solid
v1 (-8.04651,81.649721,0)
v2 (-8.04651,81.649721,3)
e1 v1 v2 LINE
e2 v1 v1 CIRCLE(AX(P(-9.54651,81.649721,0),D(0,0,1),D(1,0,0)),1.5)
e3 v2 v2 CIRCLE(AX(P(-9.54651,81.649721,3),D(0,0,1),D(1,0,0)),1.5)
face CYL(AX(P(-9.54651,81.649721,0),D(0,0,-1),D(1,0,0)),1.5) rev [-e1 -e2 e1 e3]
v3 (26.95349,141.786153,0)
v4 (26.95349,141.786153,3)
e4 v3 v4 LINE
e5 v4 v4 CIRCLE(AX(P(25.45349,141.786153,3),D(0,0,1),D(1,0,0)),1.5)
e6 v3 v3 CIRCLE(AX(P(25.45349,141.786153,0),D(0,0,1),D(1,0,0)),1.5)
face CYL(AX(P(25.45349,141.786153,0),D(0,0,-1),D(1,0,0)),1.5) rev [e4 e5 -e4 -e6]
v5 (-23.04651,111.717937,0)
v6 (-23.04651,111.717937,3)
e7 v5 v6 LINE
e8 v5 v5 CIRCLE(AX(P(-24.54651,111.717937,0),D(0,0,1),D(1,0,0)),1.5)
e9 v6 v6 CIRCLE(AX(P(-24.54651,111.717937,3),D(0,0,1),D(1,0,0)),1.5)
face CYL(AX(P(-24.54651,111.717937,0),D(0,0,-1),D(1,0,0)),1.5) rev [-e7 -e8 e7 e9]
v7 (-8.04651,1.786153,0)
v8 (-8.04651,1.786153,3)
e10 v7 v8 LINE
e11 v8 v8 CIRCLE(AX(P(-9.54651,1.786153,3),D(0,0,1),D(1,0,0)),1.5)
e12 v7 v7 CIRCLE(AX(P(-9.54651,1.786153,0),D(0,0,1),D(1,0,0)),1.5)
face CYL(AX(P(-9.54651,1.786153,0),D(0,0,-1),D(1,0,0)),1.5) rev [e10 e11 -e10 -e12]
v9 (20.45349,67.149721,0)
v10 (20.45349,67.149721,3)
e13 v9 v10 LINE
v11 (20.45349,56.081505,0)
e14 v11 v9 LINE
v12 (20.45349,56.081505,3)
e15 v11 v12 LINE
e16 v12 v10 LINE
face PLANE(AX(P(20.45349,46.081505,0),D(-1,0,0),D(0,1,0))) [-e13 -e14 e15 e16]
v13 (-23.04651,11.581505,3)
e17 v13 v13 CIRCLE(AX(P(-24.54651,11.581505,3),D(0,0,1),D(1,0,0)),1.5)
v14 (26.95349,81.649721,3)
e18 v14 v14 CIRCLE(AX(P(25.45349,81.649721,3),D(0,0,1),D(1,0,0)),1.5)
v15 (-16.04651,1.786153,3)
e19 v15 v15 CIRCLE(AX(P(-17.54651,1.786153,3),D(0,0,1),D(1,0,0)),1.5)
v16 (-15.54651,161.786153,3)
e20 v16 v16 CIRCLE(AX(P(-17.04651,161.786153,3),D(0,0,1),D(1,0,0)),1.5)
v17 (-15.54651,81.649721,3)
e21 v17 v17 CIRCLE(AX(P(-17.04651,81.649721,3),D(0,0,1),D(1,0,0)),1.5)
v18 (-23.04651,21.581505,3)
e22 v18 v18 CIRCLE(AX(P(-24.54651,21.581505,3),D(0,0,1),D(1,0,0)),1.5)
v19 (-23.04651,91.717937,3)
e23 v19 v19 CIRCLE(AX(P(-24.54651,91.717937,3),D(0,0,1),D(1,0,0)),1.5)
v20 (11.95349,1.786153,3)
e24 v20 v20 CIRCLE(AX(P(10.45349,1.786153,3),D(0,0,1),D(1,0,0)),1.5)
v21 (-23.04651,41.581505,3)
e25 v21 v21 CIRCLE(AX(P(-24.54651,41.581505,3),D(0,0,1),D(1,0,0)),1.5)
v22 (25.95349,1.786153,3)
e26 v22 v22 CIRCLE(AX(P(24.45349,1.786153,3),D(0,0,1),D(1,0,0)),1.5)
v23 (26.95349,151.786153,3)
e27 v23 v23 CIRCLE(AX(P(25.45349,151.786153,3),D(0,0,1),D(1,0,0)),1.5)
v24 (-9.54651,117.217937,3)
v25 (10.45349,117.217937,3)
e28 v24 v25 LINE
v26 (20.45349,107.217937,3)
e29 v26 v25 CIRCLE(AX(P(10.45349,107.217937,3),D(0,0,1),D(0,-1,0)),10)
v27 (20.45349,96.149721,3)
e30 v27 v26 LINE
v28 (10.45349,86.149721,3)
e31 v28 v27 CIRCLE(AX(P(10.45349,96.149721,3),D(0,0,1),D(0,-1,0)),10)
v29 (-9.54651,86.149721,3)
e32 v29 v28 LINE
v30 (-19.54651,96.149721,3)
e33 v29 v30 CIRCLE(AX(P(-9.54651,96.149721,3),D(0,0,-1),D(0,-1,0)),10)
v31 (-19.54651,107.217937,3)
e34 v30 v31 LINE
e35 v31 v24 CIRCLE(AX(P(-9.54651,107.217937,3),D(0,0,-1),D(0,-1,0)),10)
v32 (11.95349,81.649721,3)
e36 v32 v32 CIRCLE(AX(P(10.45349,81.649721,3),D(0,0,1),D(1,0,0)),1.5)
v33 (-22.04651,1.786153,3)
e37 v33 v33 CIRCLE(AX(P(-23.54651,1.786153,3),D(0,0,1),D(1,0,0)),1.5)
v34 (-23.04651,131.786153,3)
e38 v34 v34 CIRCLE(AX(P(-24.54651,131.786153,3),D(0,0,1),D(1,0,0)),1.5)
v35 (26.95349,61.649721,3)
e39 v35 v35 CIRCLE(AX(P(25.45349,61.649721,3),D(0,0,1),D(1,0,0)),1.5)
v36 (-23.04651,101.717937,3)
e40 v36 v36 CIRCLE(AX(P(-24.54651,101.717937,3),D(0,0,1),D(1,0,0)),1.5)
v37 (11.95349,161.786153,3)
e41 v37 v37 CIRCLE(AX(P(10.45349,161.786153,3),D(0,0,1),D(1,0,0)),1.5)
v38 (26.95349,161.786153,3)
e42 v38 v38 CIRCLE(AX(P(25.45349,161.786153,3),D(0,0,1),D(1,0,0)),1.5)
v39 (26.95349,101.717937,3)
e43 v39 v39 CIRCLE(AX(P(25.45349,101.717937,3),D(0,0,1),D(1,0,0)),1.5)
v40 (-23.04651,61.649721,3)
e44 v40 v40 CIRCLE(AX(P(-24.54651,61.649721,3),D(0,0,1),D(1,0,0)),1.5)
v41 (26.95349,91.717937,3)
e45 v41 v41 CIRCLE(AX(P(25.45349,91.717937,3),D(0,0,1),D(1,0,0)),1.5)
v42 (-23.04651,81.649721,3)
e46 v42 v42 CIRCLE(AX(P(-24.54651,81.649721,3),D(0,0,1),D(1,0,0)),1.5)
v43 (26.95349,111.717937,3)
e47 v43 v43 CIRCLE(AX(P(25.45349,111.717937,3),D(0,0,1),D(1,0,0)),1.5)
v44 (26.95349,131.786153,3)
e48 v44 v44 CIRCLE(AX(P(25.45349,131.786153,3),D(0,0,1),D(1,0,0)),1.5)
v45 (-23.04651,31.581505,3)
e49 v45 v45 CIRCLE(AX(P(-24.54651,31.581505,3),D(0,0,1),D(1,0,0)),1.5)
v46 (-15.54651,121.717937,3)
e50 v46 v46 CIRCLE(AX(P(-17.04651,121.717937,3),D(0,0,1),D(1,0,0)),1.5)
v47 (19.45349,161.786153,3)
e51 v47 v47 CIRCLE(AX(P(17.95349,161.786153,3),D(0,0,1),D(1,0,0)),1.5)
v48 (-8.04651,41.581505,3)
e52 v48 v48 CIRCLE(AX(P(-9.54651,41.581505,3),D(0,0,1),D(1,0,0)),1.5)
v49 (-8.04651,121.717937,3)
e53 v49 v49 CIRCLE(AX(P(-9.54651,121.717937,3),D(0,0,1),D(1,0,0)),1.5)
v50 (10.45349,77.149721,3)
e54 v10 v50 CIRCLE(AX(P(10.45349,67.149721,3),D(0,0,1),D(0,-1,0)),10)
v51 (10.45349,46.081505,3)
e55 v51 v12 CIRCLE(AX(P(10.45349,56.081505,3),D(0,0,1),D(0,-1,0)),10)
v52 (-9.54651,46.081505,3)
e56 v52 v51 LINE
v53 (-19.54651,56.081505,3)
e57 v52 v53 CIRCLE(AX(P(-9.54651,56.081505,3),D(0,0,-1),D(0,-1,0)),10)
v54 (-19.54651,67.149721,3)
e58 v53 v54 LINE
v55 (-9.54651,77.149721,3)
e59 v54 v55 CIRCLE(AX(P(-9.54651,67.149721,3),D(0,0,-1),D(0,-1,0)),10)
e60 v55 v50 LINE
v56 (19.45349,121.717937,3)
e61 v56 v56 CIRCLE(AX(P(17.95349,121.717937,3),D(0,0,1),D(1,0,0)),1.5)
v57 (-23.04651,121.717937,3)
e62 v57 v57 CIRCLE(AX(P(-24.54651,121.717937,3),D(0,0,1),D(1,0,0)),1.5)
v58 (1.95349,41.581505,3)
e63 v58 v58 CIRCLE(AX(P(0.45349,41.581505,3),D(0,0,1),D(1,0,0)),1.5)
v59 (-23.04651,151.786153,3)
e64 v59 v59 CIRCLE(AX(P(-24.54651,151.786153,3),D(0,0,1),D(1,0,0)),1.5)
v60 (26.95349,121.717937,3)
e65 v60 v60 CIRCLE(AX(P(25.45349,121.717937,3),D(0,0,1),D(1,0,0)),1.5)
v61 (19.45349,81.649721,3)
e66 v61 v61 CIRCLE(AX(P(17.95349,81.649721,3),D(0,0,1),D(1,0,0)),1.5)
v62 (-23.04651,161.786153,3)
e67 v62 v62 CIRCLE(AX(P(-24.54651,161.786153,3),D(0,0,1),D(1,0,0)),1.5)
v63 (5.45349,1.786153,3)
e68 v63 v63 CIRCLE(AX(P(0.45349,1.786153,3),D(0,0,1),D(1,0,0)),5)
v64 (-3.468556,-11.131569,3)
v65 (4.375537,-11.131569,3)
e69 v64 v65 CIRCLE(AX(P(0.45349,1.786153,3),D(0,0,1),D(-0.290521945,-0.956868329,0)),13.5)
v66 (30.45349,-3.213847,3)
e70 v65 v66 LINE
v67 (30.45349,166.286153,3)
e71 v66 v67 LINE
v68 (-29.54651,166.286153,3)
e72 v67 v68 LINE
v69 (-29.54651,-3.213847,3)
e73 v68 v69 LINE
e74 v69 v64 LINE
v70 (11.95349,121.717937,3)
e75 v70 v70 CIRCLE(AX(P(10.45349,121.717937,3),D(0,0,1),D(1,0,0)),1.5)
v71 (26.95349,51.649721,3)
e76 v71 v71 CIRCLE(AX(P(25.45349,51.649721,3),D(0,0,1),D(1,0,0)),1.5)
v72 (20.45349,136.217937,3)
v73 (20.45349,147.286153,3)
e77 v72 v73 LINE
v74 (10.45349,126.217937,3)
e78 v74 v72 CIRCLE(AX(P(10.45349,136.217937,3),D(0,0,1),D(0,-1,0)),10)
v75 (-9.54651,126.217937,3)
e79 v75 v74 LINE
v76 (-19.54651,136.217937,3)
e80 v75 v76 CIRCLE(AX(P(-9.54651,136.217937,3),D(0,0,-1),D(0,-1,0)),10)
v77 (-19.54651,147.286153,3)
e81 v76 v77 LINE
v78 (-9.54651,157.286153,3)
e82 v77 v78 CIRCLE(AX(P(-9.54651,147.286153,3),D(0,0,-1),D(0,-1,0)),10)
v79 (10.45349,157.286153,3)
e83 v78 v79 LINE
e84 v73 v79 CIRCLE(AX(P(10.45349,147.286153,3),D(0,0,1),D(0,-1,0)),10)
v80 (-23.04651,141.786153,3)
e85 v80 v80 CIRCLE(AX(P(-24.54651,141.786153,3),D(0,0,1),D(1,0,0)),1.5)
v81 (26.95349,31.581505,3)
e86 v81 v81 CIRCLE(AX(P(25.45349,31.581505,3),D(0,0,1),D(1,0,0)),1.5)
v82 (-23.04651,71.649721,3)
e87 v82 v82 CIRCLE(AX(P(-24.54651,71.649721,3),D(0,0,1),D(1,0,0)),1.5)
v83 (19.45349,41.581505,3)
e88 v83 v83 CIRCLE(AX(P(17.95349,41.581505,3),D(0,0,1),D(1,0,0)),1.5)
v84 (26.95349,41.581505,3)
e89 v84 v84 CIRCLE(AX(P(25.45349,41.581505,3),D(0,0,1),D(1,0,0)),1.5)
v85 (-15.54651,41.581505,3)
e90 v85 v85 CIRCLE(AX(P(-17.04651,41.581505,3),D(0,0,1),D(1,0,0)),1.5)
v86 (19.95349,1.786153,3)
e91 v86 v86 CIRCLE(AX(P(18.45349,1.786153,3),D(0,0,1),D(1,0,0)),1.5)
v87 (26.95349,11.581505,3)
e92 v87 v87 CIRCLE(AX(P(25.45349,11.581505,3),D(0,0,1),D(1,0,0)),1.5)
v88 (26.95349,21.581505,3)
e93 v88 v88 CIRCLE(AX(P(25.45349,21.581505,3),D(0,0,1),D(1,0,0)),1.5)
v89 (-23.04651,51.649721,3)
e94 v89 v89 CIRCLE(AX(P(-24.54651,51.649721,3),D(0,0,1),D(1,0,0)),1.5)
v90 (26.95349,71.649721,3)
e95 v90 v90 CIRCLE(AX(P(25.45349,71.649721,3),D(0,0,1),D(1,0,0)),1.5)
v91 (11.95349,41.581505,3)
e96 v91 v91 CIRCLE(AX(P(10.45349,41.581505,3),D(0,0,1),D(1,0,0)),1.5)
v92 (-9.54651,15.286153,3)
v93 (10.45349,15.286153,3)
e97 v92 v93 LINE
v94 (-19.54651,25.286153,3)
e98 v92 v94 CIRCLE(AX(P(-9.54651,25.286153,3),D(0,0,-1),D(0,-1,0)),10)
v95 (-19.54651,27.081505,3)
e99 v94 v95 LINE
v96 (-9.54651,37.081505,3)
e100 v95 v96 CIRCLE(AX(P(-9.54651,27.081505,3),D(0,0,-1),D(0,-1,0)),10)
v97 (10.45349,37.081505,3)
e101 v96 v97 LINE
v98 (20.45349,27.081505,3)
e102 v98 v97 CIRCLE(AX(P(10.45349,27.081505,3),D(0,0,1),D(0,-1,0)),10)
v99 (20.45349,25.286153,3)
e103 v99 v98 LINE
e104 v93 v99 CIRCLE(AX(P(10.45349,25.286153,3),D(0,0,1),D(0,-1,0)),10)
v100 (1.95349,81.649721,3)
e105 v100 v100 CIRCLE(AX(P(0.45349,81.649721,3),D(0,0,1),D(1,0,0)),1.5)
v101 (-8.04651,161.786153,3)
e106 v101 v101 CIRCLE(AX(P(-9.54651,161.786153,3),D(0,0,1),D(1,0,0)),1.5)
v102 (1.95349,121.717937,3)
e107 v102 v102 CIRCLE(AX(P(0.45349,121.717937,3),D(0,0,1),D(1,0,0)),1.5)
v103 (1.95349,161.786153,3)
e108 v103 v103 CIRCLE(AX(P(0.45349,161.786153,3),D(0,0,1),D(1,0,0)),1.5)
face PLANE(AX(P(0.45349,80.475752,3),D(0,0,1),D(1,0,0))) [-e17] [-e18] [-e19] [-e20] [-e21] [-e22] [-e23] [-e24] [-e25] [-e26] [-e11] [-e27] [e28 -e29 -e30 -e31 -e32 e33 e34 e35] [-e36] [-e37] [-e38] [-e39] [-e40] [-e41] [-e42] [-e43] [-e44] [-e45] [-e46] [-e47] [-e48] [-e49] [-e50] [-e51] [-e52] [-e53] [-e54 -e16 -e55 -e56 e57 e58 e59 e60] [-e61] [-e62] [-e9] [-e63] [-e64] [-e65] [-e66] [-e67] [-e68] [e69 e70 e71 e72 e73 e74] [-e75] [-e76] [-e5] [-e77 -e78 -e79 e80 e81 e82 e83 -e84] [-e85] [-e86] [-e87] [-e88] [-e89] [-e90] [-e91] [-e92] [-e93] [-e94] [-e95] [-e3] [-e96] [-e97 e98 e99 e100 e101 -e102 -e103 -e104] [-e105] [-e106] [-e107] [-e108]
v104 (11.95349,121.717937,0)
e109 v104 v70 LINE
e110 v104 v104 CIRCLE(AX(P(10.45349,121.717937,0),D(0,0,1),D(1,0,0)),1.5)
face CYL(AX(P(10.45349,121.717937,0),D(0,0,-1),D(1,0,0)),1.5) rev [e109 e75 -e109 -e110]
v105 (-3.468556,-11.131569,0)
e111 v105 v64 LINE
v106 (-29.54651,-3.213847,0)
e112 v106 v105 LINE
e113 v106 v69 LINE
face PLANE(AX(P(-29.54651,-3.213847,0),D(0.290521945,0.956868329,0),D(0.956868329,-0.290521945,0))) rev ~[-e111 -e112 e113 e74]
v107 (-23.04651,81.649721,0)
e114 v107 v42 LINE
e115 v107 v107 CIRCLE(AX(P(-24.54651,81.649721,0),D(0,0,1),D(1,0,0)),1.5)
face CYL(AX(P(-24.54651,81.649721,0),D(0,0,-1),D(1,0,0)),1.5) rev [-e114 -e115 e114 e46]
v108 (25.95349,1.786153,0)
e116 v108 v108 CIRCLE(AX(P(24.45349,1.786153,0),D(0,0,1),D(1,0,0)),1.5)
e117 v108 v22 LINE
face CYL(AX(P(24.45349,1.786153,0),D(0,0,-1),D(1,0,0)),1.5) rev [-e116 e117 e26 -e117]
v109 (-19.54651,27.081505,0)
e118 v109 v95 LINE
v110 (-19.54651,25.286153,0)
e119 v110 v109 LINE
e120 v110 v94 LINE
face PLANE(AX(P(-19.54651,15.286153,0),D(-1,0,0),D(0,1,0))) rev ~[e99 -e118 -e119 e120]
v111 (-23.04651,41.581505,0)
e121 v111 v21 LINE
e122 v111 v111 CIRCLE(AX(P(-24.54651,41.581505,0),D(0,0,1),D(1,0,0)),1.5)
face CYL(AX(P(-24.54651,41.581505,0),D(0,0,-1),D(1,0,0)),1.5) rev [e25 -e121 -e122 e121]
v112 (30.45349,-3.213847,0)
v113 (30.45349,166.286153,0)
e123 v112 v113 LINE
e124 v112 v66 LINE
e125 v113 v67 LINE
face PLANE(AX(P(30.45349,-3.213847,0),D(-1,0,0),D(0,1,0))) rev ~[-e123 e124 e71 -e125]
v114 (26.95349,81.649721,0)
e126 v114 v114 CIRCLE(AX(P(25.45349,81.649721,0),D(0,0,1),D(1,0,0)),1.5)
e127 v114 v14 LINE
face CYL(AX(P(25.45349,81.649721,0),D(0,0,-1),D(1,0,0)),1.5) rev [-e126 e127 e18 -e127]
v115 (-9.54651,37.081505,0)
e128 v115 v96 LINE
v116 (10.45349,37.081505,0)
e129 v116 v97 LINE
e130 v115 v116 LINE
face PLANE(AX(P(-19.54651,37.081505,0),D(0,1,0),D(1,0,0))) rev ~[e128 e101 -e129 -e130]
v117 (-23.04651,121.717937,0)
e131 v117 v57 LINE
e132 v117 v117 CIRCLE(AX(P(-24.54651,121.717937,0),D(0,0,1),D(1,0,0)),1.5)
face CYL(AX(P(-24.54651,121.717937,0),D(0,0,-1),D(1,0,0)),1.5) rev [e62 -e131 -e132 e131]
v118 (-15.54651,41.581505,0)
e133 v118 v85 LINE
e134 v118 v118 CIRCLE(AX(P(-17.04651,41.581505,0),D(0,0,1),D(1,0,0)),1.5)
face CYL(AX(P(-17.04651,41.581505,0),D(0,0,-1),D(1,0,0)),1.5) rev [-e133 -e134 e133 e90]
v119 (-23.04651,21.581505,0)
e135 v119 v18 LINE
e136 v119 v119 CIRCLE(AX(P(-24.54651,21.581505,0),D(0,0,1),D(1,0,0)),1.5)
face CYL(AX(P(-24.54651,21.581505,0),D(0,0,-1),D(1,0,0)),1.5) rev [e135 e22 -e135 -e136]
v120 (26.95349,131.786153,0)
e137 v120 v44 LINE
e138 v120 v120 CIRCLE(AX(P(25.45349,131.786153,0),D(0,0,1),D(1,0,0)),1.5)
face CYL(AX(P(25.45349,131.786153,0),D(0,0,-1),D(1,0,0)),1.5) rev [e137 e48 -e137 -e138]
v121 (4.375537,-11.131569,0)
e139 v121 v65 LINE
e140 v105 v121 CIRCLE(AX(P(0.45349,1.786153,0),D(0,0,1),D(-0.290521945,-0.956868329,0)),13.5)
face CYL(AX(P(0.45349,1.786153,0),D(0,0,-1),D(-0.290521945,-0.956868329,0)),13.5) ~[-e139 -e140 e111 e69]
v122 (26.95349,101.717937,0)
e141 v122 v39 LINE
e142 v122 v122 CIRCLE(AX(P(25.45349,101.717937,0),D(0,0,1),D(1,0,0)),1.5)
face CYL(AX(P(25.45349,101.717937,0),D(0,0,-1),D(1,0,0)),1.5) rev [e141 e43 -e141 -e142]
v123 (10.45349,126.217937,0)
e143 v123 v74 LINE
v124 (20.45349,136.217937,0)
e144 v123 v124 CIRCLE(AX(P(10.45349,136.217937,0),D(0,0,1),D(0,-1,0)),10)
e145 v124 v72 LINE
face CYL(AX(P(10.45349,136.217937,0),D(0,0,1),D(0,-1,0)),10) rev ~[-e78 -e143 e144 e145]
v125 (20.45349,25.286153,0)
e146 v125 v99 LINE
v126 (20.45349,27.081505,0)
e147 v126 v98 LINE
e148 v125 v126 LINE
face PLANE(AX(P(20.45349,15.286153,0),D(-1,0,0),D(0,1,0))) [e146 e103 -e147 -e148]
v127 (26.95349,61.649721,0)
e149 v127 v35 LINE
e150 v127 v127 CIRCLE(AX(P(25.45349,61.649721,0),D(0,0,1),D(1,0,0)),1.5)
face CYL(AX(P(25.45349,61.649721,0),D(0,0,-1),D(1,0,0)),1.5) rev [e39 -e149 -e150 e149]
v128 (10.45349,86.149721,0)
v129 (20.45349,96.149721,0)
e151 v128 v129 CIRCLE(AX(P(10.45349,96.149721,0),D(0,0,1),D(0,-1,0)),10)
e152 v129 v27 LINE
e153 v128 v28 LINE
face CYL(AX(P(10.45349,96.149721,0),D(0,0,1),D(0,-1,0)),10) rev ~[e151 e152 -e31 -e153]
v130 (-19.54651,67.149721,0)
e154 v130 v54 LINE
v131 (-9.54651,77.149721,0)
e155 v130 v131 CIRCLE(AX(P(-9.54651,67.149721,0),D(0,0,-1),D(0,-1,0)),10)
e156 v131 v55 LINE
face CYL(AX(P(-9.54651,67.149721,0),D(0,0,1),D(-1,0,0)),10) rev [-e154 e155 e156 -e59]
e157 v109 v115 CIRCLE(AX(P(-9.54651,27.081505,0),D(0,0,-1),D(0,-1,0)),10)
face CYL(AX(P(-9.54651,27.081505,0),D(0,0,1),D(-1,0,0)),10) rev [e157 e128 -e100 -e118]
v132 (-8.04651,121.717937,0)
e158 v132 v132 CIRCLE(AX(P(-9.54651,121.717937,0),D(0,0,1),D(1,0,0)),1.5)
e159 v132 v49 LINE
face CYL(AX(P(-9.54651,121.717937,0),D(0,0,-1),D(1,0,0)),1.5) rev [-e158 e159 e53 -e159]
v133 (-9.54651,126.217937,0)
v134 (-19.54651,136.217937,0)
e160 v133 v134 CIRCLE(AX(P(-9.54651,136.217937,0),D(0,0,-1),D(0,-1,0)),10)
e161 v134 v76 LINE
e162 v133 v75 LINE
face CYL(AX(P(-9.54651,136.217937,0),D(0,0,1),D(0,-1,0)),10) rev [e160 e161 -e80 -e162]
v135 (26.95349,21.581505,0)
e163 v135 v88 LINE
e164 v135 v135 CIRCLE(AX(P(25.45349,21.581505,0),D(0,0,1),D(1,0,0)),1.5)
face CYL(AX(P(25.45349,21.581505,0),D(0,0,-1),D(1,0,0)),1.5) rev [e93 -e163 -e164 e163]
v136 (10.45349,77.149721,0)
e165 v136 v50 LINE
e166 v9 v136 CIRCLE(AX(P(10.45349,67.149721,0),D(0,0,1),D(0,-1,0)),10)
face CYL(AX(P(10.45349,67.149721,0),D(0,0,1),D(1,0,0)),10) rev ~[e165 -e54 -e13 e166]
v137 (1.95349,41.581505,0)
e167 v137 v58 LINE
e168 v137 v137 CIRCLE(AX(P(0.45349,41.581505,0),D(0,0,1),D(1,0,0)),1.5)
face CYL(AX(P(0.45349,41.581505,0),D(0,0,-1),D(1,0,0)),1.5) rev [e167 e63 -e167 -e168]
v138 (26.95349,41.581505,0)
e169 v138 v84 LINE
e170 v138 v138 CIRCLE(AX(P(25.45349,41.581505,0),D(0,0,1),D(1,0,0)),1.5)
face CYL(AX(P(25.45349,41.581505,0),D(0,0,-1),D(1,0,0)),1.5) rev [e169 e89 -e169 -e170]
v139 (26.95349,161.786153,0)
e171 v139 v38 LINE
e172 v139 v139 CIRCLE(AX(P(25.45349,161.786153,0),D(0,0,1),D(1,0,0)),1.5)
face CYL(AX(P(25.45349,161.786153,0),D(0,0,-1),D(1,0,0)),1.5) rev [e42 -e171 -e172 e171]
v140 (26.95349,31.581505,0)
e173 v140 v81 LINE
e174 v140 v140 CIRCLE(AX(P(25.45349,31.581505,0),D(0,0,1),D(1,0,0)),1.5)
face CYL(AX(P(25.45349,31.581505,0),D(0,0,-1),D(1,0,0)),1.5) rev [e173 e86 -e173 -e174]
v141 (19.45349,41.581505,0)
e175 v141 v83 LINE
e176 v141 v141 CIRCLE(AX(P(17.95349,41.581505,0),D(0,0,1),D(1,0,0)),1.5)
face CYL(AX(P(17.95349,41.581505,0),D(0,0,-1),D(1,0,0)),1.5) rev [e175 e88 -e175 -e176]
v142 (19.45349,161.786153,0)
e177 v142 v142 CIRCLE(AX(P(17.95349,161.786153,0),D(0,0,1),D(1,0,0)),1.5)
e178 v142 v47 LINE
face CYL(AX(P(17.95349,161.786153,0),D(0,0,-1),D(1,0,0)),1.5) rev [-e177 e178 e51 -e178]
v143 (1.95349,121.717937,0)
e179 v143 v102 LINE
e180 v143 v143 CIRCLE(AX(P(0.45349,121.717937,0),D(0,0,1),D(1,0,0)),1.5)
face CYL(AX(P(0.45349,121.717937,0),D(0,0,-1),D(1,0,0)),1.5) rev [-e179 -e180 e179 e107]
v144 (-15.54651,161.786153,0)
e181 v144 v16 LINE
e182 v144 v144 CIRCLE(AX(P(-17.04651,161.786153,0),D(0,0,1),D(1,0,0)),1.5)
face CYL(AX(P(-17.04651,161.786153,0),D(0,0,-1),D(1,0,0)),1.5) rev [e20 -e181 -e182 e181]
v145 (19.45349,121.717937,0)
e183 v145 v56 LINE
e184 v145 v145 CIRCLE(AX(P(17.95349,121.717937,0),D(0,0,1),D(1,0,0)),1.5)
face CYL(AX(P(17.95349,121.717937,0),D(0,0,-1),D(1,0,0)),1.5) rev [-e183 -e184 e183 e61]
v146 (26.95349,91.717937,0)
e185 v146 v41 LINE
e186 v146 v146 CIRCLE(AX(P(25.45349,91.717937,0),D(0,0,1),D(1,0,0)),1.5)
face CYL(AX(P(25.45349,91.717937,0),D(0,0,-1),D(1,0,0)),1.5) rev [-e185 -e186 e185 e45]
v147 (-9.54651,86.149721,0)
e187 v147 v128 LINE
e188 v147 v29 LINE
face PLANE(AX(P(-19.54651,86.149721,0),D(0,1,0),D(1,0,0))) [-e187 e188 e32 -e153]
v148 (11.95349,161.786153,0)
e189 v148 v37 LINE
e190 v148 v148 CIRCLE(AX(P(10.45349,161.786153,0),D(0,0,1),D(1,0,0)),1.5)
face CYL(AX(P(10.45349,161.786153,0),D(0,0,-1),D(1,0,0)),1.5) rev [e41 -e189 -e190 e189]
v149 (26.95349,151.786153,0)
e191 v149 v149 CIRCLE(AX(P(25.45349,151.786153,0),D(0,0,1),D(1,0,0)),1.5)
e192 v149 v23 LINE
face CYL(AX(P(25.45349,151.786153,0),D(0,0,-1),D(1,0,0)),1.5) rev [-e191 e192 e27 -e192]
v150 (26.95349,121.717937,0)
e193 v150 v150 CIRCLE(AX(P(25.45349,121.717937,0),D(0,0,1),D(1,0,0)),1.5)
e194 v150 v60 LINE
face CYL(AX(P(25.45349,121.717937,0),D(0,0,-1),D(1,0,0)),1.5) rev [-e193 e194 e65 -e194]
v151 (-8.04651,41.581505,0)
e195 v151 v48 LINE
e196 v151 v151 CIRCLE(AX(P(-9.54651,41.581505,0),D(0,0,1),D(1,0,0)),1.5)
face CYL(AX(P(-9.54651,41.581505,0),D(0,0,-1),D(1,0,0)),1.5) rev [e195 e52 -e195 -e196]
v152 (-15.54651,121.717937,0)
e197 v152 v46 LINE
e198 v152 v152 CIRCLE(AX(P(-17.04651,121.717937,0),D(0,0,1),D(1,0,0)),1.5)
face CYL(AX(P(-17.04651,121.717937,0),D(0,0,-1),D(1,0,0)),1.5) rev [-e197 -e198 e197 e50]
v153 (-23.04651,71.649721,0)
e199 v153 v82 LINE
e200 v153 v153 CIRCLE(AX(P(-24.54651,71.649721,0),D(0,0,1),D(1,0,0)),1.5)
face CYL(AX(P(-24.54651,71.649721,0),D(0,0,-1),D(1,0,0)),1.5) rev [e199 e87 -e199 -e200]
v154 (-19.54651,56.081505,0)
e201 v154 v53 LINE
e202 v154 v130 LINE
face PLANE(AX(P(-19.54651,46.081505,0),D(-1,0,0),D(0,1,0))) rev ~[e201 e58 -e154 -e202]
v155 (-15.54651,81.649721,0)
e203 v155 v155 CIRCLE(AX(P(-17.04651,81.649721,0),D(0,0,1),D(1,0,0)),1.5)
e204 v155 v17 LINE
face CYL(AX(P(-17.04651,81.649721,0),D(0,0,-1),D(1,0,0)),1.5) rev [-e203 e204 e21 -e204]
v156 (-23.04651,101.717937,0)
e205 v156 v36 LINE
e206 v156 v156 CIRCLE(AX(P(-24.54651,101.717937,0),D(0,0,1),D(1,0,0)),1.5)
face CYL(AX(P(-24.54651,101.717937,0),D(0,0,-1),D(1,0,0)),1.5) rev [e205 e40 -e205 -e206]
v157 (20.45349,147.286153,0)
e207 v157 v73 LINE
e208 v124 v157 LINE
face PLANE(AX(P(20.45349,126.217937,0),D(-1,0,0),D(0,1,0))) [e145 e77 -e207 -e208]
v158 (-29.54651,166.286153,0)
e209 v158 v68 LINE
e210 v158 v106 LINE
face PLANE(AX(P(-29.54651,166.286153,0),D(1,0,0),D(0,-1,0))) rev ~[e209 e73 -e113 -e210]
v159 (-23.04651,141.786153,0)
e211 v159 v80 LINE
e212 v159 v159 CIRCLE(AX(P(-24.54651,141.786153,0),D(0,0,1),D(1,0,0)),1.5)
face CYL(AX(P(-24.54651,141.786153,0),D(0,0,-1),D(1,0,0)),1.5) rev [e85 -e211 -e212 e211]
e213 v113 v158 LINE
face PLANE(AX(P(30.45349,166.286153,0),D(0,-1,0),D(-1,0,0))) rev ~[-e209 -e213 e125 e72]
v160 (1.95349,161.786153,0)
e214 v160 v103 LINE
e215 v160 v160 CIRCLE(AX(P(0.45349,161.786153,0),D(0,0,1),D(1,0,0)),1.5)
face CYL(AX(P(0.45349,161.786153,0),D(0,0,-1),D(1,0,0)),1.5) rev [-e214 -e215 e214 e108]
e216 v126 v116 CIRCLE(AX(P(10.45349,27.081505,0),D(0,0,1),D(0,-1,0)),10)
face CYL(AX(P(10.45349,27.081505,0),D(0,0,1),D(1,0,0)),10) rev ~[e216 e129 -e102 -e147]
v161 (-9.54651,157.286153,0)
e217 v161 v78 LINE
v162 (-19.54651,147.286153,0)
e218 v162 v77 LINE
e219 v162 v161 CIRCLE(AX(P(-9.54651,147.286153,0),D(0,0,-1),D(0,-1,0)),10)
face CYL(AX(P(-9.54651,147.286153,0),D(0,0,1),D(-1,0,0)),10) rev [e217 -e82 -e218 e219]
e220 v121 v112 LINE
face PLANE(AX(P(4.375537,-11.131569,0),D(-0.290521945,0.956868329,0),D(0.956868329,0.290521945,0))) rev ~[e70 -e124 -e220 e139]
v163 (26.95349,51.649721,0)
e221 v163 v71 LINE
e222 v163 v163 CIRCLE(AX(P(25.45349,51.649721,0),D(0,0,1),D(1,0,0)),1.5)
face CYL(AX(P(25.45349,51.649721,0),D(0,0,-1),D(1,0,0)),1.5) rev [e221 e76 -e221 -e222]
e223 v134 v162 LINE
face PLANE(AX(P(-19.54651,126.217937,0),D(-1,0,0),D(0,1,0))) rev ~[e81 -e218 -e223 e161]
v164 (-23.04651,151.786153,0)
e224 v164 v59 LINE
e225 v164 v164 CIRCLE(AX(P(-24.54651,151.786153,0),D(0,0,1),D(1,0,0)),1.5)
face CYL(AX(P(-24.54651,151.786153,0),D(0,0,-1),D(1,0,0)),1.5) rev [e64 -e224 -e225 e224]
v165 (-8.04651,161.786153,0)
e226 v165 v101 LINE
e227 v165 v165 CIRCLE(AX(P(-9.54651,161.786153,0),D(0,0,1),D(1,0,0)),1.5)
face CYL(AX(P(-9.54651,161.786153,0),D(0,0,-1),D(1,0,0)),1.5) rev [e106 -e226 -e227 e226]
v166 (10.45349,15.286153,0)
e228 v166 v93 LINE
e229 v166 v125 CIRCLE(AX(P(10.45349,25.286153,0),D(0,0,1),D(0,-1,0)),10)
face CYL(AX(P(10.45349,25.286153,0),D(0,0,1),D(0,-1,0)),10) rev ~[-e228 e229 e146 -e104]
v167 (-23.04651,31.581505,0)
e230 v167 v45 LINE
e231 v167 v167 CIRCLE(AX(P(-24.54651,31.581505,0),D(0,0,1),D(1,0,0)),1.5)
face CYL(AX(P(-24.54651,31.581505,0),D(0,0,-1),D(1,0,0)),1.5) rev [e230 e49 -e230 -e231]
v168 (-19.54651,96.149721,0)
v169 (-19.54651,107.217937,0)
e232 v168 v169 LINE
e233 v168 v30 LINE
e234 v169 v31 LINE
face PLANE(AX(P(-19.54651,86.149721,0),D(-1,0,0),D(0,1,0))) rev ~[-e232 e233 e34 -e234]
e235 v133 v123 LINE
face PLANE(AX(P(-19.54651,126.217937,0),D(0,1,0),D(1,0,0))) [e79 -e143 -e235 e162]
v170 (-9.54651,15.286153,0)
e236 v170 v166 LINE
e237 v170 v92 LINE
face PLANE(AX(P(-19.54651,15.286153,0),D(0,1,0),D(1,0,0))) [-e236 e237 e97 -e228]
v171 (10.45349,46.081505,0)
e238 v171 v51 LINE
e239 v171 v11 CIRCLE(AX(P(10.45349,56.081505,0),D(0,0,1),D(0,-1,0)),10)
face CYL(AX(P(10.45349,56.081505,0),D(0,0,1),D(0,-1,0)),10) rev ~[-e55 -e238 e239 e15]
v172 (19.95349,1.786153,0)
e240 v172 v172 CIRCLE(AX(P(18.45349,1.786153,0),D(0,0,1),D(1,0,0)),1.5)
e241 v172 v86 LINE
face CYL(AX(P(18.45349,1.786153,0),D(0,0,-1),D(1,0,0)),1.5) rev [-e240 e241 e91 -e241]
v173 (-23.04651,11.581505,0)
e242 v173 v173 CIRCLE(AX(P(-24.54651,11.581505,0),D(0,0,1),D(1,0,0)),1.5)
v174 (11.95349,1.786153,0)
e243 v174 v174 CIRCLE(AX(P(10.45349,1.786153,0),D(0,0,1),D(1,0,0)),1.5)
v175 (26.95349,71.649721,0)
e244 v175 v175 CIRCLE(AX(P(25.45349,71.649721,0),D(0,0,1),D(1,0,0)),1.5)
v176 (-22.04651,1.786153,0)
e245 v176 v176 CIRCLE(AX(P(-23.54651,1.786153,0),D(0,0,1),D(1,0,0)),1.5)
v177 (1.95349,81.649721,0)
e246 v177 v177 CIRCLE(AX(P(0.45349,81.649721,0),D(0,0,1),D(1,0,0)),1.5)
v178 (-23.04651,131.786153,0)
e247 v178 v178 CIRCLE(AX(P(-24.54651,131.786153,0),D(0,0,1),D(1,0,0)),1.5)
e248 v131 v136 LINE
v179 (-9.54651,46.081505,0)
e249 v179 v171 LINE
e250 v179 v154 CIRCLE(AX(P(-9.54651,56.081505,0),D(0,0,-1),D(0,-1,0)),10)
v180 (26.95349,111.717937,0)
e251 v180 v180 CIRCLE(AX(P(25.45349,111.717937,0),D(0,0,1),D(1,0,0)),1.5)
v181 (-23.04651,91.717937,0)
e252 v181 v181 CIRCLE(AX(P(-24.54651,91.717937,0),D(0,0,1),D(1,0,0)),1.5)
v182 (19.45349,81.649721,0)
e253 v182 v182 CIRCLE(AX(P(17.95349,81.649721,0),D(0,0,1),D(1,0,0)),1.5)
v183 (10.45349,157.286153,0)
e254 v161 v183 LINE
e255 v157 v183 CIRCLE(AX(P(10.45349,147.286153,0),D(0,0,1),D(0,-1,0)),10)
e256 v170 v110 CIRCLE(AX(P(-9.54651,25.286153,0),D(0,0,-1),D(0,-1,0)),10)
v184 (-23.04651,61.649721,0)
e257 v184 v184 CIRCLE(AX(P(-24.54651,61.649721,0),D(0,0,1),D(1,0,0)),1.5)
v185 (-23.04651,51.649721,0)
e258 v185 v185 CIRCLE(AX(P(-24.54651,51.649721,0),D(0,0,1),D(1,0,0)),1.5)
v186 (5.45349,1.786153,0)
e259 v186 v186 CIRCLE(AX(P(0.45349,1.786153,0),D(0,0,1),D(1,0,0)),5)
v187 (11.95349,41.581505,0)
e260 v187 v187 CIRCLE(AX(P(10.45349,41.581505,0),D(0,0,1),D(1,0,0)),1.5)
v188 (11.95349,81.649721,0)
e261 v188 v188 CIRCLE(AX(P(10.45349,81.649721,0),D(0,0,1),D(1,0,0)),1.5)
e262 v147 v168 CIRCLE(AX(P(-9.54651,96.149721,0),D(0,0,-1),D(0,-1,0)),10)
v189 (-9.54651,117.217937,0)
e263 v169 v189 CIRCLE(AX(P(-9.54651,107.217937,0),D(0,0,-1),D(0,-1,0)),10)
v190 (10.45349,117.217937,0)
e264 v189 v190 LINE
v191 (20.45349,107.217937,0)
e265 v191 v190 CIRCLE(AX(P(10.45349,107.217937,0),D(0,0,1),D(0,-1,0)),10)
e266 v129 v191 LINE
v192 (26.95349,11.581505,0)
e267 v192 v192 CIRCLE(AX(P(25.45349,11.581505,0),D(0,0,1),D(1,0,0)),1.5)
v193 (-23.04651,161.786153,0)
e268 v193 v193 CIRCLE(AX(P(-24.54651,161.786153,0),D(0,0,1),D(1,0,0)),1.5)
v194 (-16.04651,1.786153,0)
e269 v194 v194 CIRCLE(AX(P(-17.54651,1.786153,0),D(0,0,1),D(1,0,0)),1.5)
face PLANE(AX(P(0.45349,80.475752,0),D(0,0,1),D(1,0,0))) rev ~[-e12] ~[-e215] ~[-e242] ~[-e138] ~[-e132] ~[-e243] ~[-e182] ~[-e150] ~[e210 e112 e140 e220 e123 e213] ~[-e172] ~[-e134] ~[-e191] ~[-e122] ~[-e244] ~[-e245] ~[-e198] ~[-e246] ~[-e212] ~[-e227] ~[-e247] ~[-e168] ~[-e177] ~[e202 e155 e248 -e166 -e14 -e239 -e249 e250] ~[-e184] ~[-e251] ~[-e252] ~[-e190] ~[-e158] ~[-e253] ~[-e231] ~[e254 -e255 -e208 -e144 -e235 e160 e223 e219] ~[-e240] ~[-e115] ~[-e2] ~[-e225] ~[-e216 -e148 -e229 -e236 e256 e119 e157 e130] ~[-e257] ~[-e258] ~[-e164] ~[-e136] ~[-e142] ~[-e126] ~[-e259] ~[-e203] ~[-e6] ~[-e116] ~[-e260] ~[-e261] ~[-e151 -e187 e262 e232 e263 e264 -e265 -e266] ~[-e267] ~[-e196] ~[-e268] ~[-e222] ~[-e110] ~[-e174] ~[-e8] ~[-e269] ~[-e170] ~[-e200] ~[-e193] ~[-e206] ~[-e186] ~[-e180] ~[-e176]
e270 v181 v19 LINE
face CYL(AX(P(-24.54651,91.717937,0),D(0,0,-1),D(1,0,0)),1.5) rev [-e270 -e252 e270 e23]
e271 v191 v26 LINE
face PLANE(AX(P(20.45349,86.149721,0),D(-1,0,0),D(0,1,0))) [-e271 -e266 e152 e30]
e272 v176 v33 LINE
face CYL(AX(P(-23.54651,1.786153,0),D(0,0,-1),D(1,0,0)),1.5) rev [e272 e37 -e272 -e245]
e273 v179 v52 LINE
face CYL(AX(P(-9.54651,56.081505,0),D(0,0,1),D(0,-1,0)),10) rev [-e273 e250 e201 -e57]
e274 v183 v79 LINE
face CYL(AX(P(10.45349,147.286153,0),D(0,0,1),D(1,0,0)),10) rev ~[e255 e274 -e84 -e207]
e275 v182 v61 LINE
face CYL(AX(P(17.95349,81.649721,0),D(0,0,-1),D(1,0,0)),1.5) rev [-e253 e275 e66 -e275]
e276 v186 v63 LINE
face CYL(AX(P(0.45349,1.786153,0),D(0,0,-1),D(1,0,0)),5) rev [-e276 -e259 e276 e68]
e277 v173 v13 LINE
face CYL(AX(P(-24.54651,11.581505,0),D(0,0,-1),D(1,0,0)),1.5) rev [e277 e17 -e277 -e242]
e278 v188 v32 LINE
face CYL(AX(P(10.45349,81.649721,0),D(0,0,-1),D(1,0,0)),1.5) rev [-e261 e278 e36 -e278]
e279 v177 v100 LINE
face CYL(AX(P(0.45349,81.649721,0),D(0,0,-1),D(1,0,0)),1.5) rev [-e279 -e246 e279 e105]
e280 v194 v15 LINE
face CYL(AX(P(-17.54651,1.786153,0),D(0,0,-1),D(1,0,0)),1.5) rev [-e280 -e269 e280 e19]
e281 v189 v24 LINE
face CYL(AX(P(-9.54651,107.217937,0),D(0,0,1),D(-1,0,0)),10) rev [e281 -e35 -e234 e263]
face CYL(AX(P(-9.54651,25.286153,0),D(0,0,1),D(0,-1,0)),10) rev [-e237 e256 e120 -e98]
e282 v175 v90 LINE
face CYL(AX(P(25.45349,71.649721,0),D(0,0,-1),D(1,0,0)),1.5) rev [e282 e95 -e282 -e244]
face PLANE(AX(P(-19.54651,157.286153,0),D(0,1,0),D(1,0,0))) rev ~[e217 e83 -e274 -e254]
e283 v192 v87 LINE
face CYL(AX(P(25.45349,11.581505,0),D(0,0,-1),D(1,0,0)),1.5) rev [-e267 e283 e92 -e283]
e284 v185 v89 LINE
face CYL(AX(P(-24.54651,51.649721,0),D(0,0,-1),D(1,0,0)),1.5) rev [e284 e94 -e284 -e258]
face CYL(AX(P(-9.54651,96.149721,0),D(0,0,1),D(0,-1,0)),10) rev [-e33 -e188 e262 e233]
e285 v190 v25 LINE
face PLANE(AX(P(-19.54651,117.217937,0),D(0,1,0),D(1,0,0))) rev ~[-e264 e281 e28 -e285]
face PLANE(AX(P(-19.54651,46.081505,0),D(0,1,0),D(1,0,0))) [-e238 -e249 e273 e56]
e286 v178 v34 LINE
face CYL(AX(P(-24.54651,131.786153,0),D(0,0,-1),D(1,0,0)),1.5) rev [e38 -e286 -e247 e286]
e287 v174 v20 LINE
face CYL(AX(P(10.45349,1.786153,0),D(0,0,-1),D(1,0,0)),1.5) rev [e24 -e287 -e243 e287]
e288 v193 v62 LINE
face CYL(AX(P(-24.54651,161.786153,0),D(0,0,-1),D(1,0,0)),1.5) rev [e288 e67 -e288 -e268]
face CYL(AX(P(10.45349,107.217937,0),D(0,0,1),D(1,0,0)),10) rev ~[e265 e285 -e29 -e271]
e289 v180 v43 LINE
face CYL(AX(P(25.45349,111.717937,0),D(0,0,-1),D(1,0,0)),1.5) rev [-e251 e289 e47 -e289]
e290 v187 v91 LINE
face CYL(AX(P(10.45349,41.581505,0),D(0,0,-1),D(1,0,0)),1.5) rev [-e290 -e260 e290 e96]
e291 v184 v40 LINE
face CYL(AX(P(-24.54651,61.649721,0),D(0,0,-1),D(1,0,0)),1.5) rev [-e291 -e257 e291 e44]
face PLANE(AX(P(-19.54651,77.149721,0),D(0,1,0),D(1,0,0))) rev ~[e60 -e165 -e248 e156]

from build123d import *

# Parameters (mm, degrees)
SKETCH1_W           = 40
SKETCH1_H           = 31.068216144
SKETCH1_R           = 1.5
SKETCH1_H_2         = 21.795351568
SKETCH1_R_2         = 5
BOSS_EXTRUDE1_DEPTH = 3
FILLET1_R           = 10


with BuildPart() as part:
    # Sketch1 → Boss-Extrude1 (new body)
    with BuildSketch(Plane.XY):
        with BuildLine():
            Line((-29.546509682, -3.213846621), (-3.468555942, -11.131569065))
            ThreePointArc((-3.468555942, -11.131569065), (0.453490318, -11.713846621), (4.375536577, -11.131569065))
            Line((4.375536577, -11.131569065), (30.453490318, -3.213846621))
            Line((30.453490318, -3.213846621), (30.453490318, 166.286153379))
            Line((30.453490318, 166.286153379), (-29.546509682, 166.286153379))
            Line((-29.546509682, 166.286153379), (-29.546509682, -3.213846621))
        make_face()
        with Locations((0.453490318, 141.752045307)):
            Rectangle(SKETCH1_W, SKETCH1_H, mode=Mode.SUBTRACT)
        with Locations((0.453490318, 101.683829163)):
            Rectangle(SKETCH1_W, SKETCH1_H, mode=Mode.SUBTRACT)
        with Locations((0.453490318, 121.717937235)):
            Circle(SKETCH1_R, mode=Mode.SUBTRACT)
        with Locations((0.453490318, 61.615613019)):
            Rectangle(SKETCH1_W, SKETCH1_H, mode=Mode.SUBTRACT)
        with Locations((0.453490318, 81.649721091)):
            Circle(SKETCH1_R, mode=Mode.SUBTRACT)
        with Locations((0.453490318, 26.183829163)):
            Rectangle(SKETCH1_W, SKETCH1_H_2, mode=Mode.SUBTRACT)
        with Locations((0.453490318, 41.581504947)):
            Circle(SKETCH1_R, mode=Mode.SUBTRACT)
        with Locations((0.453490318, 161.786153379)):
            Circle(SKETCH1_R, mode=Mode.SUBTRACT)
        with Locations((10.453490318, 161.786153379)):
            Circle(SKETCH1_R, mode=Mode.SUBTRACT)
        with Locations((17.953490318, 161.786153379)):
            Circle(SKETCH1_R, mode=Mode.SUBTRACT)
        with Locations((25.453490318, 161.786153379)):
            Circle(SKETCH1_R, mode=Mode.SUBTRACT)
        with Locations((24.453490318, 1.786153379)):
            Circle(SKETCH1_R, mode=Mode.SUBTRACT)
        with Locations((18.453490318, 1.786153379)):
            Circle(SKETCH1_R, mode=Mode.SUBTRACT)
        with Locations((10.453490318, 1.786153379)):
            Circle(SKETCH1_R, mode=Mode.SUBTRACT)
        with Locations((0.453490318, 1.786153379)):
            Circle(SKETCH1_R_2, mode=Mode.SUBTRACT)
        with Locations((-9.546509682, 161.786153379)):
            Circle(SKETCH1_R, mode=Mode.SUBTRACT)
        with Locations((-17.046509682, 161.786153379)):
            Circle(SKETCH1_R, mode=Mode.SUBTRACT)
        with Locations((-24.546509682, 161.786153379)):
            Circle(SKETCH1_R, mode=Mode.SUBTRACT)
        with Locations((-9.546509682, 1.786153379)):
            Circle(SKETCH1_R, mode=Mode.SUBTRACT)
        with Locations((-17.546509682, 1.786153379)):
            Circle(SKETCH1_R, mode=Mode.SUBTRACT)
        with Locations((-23.546509682, 1.786153379)):
            Circle(SKETCH1_R, mode=Mode.SUBTRACT)
        with Locations((-24.546509682, 11.581504947)):
            Circle(SKETCH1_R, mode=Mode.SUBTRACT)
        with Locations((-24.546509682, 21.581504947)):
            Circle(SKETCH1_R, mode=Mode.SUBTRACT)
        with Locations((-24.546509682, 31.581504947)):
            Circle(SKETCH1_R, mode=Mode.SUBTRACT)
        with Locations((-24.546509682, 41.581504947)):
            Circle(SKETCH1_R, mode=Mode.SUBTRACT)
        with Locations((-24.546509682, 51.649721091)):
            Circle(SKETCH1_R, mode=Mode.SUBTRACT)
        with Locations((-24.546509682, 61.649721091)):
            Circle(SKETCH1_R, mode=Mode.SUBTRACT)
        with Locations((-24.546509682, 71.649721091)):
            Circle(SKETCH1_R, mode=Mode.SUBTRACT)
        with Locations((-24.546509682, 81.649721091)):
            Circle(SKETCH1_R, mode=Mode.SUBTRACT)
        with Locations((-24.546509682, 91.717937235)):
            Circle(SKETCH1_R, mode=Mode.SUBTRACT)
        with Locations((-24.546509682, 101.717937235)):
            Circle(SKETCH1_R, mode=Mode.SUBTRACT)
        with Locations((-24.546509682, 111.717937235)):
            Circle(SKETCH1_R, mode=Mode.SUBTRACT)
        with Locations((-24.546509682, 121.717937235)):
            Circle(SKETCH1_R, mode=Mode.SUBTRACT)
        with Locations((-24.546509682, 131.786153379)):
            Circle(SKETCH1_R, mode=Mode.SUBTRACT)
        with Locations((-24.546509682, 141.786153379)):
            Circle(SKETCH1_R, mode=Mode.SUBTRACT)
        with Locations((-24.546509682, 151.786153379)):
            Circle(SKETCH1_R, mode=Mode.SUBTRACT)
        with Locations((25.453490318, 111.717937235)):
            Circle(SKETCH1_R, mode=Mode.SUBTRACT)
        with Locations((25.453490318, 151.786153379)):
            Circle(SKETCH1_R, mode=Mode.SUBTRACT)
        with Locations((25.453490318, 141.786153379)):
            Circle(SKETCH1_R, mode=Mode.SUBTRACT)
        with Locations((25.453490318, 131.786153379)):
            Circle(SKETCH1_R, mode=Mode.SUBTRACT)
        with Locations((25.453490318, 121.717937235)):
            Circle(SKETCH1_R, mode=Mode.SUBTRACT)
        with Locations((25.453490318, 11.581504947)):
            Circle(SKETCH1_R, mode=Mode.SUBTRACT)
        with Locations((25.453490318, 21.581504947)):
            Circle(SKETCH1_R, mode=Mode.SUBTRACT)
        with Locations((25.453490318, 31.581504947)):
            Circle(SKETCH1_R, mode=Mode.SUBTRACT)
        with Locations((25.453490318, 41.581504947)):
            Circle(SKETCH1_R, mode=Mode.SUBTRACT)
        with Locations((25.453490318, 51.649721091)):
            Circle(SKETCH1_R, mode=Mode.SUBTRACT)
        with Locations((25.453490318, 61.649721091)):
            Circle(SKETCH1_R, mode=Mode.SUBTRACT)
        with Locations((25.453490318, 71.649721091)):
            Circle(SKETCH1_R, mode=Mode.SUBTRACT)
        with Locations((25.453490318, 81.649721091)):
            Circle(SKETCH1_R, mode=Mode.SUBTRACT)
        with Locations((25.453490318, 91.717937235)):
            Circle(SKETCH1_R, mode=Mode.SUBTRACT)
        with Locations((25.453490318, 101.717937235)):
            Circle(SKETCH1_R, mode=Mode.SUBTRACT)
        with Locations((-9.546509682, 41.581504947)):
            Circle(SKETCH1_R, mode=Mode.SUBTRACT)
        with Locations((-17.046509682, 41.581504947)):
            Circle(SKETCH1_R, mode=Mode.SUBTRACT)
        with Locations((10.453490318, 41.581504947)):
            Circle(SKETCH1_R, mode=Mode.SUBTRACT)
        with Locations((17.953490318, 41.581504947)):
            Circle(SKETCH1_R, mode=Mode.SUBTRACT)
        with Locations((-9.546509682, 81.649721091)):
            Circle(SKETCH1_R, mode=Mode.SUBTRACT)
        with Locations((-17.046509682, 81.649721091)):
            Circle(SKETCH1_R, mode=Mode.SUBTRACT)
        with Locations((10.453490318, 81.649721091)):
            Circle(SKETCH1_R, mode=Mode.SUBTRACT)
        with Locations((17.953490318, 81.649721091)):
            Circle(SKETCH1_R, mode=Mode.SUBTRACT)
        with Locations((-9.546509682, 121.717937235)):
            Circle(SKETCH1_R, mode=Mode.SUBTRACT)
        with Locations((-17.046509682, 121.717937235)):
            Circle(SKETCH1_R, mode=Mode.SUBTRACT)
        with Locations((17.953490318, 121.717937235)):
            Circle(SKETCH1_R, mode=Mode.SUBTRACT)
        with Locations((10.453490318, 121.717937235)):
            Circle(SKETCH1_R, mode=Mode.SUBTRACT)
    extrude(amount=BOSS_EXTRUDE1_DEPTH)

    # Fillet1
    fillet1_edges = [part.edges().sort_by_distance(p)[0] for p in [
        (20.453490318, 157.286153379, 1.5),
        (-19.546509682, 157.286153379, 1.5),
        (-19.546509682, 126.217937235, 1.5),
        (20.453490318, 126.217937235, 1.5),
        (-19.546509682, 37.081504947, 1.5),
        (-19.546509682, 15.286153379, 1.5),
        (20.453490318, 15.286153379, 1.5),
        (20.453490318, 37.081504947, 1.5),
        (-19.546509682, 77.149721091, 1.5),
        (-19.546509682, 46.081504947, 1.5),
        (20.453490318, 46.081504947, 1.5),
        (20.453490318, 77.149721091, 1.5),
        (-19.546509682, 117.217937235, 1.5),
        (-19.546509682, 86.149721091, 1.5),
        (20.453490318, 86.149721091, 1.5),
        (20.453490318, 117.217937235, 1.5),
    ]]
    fillet(fillet1_edges, radius=FILLET1_R)


solid = part.part
